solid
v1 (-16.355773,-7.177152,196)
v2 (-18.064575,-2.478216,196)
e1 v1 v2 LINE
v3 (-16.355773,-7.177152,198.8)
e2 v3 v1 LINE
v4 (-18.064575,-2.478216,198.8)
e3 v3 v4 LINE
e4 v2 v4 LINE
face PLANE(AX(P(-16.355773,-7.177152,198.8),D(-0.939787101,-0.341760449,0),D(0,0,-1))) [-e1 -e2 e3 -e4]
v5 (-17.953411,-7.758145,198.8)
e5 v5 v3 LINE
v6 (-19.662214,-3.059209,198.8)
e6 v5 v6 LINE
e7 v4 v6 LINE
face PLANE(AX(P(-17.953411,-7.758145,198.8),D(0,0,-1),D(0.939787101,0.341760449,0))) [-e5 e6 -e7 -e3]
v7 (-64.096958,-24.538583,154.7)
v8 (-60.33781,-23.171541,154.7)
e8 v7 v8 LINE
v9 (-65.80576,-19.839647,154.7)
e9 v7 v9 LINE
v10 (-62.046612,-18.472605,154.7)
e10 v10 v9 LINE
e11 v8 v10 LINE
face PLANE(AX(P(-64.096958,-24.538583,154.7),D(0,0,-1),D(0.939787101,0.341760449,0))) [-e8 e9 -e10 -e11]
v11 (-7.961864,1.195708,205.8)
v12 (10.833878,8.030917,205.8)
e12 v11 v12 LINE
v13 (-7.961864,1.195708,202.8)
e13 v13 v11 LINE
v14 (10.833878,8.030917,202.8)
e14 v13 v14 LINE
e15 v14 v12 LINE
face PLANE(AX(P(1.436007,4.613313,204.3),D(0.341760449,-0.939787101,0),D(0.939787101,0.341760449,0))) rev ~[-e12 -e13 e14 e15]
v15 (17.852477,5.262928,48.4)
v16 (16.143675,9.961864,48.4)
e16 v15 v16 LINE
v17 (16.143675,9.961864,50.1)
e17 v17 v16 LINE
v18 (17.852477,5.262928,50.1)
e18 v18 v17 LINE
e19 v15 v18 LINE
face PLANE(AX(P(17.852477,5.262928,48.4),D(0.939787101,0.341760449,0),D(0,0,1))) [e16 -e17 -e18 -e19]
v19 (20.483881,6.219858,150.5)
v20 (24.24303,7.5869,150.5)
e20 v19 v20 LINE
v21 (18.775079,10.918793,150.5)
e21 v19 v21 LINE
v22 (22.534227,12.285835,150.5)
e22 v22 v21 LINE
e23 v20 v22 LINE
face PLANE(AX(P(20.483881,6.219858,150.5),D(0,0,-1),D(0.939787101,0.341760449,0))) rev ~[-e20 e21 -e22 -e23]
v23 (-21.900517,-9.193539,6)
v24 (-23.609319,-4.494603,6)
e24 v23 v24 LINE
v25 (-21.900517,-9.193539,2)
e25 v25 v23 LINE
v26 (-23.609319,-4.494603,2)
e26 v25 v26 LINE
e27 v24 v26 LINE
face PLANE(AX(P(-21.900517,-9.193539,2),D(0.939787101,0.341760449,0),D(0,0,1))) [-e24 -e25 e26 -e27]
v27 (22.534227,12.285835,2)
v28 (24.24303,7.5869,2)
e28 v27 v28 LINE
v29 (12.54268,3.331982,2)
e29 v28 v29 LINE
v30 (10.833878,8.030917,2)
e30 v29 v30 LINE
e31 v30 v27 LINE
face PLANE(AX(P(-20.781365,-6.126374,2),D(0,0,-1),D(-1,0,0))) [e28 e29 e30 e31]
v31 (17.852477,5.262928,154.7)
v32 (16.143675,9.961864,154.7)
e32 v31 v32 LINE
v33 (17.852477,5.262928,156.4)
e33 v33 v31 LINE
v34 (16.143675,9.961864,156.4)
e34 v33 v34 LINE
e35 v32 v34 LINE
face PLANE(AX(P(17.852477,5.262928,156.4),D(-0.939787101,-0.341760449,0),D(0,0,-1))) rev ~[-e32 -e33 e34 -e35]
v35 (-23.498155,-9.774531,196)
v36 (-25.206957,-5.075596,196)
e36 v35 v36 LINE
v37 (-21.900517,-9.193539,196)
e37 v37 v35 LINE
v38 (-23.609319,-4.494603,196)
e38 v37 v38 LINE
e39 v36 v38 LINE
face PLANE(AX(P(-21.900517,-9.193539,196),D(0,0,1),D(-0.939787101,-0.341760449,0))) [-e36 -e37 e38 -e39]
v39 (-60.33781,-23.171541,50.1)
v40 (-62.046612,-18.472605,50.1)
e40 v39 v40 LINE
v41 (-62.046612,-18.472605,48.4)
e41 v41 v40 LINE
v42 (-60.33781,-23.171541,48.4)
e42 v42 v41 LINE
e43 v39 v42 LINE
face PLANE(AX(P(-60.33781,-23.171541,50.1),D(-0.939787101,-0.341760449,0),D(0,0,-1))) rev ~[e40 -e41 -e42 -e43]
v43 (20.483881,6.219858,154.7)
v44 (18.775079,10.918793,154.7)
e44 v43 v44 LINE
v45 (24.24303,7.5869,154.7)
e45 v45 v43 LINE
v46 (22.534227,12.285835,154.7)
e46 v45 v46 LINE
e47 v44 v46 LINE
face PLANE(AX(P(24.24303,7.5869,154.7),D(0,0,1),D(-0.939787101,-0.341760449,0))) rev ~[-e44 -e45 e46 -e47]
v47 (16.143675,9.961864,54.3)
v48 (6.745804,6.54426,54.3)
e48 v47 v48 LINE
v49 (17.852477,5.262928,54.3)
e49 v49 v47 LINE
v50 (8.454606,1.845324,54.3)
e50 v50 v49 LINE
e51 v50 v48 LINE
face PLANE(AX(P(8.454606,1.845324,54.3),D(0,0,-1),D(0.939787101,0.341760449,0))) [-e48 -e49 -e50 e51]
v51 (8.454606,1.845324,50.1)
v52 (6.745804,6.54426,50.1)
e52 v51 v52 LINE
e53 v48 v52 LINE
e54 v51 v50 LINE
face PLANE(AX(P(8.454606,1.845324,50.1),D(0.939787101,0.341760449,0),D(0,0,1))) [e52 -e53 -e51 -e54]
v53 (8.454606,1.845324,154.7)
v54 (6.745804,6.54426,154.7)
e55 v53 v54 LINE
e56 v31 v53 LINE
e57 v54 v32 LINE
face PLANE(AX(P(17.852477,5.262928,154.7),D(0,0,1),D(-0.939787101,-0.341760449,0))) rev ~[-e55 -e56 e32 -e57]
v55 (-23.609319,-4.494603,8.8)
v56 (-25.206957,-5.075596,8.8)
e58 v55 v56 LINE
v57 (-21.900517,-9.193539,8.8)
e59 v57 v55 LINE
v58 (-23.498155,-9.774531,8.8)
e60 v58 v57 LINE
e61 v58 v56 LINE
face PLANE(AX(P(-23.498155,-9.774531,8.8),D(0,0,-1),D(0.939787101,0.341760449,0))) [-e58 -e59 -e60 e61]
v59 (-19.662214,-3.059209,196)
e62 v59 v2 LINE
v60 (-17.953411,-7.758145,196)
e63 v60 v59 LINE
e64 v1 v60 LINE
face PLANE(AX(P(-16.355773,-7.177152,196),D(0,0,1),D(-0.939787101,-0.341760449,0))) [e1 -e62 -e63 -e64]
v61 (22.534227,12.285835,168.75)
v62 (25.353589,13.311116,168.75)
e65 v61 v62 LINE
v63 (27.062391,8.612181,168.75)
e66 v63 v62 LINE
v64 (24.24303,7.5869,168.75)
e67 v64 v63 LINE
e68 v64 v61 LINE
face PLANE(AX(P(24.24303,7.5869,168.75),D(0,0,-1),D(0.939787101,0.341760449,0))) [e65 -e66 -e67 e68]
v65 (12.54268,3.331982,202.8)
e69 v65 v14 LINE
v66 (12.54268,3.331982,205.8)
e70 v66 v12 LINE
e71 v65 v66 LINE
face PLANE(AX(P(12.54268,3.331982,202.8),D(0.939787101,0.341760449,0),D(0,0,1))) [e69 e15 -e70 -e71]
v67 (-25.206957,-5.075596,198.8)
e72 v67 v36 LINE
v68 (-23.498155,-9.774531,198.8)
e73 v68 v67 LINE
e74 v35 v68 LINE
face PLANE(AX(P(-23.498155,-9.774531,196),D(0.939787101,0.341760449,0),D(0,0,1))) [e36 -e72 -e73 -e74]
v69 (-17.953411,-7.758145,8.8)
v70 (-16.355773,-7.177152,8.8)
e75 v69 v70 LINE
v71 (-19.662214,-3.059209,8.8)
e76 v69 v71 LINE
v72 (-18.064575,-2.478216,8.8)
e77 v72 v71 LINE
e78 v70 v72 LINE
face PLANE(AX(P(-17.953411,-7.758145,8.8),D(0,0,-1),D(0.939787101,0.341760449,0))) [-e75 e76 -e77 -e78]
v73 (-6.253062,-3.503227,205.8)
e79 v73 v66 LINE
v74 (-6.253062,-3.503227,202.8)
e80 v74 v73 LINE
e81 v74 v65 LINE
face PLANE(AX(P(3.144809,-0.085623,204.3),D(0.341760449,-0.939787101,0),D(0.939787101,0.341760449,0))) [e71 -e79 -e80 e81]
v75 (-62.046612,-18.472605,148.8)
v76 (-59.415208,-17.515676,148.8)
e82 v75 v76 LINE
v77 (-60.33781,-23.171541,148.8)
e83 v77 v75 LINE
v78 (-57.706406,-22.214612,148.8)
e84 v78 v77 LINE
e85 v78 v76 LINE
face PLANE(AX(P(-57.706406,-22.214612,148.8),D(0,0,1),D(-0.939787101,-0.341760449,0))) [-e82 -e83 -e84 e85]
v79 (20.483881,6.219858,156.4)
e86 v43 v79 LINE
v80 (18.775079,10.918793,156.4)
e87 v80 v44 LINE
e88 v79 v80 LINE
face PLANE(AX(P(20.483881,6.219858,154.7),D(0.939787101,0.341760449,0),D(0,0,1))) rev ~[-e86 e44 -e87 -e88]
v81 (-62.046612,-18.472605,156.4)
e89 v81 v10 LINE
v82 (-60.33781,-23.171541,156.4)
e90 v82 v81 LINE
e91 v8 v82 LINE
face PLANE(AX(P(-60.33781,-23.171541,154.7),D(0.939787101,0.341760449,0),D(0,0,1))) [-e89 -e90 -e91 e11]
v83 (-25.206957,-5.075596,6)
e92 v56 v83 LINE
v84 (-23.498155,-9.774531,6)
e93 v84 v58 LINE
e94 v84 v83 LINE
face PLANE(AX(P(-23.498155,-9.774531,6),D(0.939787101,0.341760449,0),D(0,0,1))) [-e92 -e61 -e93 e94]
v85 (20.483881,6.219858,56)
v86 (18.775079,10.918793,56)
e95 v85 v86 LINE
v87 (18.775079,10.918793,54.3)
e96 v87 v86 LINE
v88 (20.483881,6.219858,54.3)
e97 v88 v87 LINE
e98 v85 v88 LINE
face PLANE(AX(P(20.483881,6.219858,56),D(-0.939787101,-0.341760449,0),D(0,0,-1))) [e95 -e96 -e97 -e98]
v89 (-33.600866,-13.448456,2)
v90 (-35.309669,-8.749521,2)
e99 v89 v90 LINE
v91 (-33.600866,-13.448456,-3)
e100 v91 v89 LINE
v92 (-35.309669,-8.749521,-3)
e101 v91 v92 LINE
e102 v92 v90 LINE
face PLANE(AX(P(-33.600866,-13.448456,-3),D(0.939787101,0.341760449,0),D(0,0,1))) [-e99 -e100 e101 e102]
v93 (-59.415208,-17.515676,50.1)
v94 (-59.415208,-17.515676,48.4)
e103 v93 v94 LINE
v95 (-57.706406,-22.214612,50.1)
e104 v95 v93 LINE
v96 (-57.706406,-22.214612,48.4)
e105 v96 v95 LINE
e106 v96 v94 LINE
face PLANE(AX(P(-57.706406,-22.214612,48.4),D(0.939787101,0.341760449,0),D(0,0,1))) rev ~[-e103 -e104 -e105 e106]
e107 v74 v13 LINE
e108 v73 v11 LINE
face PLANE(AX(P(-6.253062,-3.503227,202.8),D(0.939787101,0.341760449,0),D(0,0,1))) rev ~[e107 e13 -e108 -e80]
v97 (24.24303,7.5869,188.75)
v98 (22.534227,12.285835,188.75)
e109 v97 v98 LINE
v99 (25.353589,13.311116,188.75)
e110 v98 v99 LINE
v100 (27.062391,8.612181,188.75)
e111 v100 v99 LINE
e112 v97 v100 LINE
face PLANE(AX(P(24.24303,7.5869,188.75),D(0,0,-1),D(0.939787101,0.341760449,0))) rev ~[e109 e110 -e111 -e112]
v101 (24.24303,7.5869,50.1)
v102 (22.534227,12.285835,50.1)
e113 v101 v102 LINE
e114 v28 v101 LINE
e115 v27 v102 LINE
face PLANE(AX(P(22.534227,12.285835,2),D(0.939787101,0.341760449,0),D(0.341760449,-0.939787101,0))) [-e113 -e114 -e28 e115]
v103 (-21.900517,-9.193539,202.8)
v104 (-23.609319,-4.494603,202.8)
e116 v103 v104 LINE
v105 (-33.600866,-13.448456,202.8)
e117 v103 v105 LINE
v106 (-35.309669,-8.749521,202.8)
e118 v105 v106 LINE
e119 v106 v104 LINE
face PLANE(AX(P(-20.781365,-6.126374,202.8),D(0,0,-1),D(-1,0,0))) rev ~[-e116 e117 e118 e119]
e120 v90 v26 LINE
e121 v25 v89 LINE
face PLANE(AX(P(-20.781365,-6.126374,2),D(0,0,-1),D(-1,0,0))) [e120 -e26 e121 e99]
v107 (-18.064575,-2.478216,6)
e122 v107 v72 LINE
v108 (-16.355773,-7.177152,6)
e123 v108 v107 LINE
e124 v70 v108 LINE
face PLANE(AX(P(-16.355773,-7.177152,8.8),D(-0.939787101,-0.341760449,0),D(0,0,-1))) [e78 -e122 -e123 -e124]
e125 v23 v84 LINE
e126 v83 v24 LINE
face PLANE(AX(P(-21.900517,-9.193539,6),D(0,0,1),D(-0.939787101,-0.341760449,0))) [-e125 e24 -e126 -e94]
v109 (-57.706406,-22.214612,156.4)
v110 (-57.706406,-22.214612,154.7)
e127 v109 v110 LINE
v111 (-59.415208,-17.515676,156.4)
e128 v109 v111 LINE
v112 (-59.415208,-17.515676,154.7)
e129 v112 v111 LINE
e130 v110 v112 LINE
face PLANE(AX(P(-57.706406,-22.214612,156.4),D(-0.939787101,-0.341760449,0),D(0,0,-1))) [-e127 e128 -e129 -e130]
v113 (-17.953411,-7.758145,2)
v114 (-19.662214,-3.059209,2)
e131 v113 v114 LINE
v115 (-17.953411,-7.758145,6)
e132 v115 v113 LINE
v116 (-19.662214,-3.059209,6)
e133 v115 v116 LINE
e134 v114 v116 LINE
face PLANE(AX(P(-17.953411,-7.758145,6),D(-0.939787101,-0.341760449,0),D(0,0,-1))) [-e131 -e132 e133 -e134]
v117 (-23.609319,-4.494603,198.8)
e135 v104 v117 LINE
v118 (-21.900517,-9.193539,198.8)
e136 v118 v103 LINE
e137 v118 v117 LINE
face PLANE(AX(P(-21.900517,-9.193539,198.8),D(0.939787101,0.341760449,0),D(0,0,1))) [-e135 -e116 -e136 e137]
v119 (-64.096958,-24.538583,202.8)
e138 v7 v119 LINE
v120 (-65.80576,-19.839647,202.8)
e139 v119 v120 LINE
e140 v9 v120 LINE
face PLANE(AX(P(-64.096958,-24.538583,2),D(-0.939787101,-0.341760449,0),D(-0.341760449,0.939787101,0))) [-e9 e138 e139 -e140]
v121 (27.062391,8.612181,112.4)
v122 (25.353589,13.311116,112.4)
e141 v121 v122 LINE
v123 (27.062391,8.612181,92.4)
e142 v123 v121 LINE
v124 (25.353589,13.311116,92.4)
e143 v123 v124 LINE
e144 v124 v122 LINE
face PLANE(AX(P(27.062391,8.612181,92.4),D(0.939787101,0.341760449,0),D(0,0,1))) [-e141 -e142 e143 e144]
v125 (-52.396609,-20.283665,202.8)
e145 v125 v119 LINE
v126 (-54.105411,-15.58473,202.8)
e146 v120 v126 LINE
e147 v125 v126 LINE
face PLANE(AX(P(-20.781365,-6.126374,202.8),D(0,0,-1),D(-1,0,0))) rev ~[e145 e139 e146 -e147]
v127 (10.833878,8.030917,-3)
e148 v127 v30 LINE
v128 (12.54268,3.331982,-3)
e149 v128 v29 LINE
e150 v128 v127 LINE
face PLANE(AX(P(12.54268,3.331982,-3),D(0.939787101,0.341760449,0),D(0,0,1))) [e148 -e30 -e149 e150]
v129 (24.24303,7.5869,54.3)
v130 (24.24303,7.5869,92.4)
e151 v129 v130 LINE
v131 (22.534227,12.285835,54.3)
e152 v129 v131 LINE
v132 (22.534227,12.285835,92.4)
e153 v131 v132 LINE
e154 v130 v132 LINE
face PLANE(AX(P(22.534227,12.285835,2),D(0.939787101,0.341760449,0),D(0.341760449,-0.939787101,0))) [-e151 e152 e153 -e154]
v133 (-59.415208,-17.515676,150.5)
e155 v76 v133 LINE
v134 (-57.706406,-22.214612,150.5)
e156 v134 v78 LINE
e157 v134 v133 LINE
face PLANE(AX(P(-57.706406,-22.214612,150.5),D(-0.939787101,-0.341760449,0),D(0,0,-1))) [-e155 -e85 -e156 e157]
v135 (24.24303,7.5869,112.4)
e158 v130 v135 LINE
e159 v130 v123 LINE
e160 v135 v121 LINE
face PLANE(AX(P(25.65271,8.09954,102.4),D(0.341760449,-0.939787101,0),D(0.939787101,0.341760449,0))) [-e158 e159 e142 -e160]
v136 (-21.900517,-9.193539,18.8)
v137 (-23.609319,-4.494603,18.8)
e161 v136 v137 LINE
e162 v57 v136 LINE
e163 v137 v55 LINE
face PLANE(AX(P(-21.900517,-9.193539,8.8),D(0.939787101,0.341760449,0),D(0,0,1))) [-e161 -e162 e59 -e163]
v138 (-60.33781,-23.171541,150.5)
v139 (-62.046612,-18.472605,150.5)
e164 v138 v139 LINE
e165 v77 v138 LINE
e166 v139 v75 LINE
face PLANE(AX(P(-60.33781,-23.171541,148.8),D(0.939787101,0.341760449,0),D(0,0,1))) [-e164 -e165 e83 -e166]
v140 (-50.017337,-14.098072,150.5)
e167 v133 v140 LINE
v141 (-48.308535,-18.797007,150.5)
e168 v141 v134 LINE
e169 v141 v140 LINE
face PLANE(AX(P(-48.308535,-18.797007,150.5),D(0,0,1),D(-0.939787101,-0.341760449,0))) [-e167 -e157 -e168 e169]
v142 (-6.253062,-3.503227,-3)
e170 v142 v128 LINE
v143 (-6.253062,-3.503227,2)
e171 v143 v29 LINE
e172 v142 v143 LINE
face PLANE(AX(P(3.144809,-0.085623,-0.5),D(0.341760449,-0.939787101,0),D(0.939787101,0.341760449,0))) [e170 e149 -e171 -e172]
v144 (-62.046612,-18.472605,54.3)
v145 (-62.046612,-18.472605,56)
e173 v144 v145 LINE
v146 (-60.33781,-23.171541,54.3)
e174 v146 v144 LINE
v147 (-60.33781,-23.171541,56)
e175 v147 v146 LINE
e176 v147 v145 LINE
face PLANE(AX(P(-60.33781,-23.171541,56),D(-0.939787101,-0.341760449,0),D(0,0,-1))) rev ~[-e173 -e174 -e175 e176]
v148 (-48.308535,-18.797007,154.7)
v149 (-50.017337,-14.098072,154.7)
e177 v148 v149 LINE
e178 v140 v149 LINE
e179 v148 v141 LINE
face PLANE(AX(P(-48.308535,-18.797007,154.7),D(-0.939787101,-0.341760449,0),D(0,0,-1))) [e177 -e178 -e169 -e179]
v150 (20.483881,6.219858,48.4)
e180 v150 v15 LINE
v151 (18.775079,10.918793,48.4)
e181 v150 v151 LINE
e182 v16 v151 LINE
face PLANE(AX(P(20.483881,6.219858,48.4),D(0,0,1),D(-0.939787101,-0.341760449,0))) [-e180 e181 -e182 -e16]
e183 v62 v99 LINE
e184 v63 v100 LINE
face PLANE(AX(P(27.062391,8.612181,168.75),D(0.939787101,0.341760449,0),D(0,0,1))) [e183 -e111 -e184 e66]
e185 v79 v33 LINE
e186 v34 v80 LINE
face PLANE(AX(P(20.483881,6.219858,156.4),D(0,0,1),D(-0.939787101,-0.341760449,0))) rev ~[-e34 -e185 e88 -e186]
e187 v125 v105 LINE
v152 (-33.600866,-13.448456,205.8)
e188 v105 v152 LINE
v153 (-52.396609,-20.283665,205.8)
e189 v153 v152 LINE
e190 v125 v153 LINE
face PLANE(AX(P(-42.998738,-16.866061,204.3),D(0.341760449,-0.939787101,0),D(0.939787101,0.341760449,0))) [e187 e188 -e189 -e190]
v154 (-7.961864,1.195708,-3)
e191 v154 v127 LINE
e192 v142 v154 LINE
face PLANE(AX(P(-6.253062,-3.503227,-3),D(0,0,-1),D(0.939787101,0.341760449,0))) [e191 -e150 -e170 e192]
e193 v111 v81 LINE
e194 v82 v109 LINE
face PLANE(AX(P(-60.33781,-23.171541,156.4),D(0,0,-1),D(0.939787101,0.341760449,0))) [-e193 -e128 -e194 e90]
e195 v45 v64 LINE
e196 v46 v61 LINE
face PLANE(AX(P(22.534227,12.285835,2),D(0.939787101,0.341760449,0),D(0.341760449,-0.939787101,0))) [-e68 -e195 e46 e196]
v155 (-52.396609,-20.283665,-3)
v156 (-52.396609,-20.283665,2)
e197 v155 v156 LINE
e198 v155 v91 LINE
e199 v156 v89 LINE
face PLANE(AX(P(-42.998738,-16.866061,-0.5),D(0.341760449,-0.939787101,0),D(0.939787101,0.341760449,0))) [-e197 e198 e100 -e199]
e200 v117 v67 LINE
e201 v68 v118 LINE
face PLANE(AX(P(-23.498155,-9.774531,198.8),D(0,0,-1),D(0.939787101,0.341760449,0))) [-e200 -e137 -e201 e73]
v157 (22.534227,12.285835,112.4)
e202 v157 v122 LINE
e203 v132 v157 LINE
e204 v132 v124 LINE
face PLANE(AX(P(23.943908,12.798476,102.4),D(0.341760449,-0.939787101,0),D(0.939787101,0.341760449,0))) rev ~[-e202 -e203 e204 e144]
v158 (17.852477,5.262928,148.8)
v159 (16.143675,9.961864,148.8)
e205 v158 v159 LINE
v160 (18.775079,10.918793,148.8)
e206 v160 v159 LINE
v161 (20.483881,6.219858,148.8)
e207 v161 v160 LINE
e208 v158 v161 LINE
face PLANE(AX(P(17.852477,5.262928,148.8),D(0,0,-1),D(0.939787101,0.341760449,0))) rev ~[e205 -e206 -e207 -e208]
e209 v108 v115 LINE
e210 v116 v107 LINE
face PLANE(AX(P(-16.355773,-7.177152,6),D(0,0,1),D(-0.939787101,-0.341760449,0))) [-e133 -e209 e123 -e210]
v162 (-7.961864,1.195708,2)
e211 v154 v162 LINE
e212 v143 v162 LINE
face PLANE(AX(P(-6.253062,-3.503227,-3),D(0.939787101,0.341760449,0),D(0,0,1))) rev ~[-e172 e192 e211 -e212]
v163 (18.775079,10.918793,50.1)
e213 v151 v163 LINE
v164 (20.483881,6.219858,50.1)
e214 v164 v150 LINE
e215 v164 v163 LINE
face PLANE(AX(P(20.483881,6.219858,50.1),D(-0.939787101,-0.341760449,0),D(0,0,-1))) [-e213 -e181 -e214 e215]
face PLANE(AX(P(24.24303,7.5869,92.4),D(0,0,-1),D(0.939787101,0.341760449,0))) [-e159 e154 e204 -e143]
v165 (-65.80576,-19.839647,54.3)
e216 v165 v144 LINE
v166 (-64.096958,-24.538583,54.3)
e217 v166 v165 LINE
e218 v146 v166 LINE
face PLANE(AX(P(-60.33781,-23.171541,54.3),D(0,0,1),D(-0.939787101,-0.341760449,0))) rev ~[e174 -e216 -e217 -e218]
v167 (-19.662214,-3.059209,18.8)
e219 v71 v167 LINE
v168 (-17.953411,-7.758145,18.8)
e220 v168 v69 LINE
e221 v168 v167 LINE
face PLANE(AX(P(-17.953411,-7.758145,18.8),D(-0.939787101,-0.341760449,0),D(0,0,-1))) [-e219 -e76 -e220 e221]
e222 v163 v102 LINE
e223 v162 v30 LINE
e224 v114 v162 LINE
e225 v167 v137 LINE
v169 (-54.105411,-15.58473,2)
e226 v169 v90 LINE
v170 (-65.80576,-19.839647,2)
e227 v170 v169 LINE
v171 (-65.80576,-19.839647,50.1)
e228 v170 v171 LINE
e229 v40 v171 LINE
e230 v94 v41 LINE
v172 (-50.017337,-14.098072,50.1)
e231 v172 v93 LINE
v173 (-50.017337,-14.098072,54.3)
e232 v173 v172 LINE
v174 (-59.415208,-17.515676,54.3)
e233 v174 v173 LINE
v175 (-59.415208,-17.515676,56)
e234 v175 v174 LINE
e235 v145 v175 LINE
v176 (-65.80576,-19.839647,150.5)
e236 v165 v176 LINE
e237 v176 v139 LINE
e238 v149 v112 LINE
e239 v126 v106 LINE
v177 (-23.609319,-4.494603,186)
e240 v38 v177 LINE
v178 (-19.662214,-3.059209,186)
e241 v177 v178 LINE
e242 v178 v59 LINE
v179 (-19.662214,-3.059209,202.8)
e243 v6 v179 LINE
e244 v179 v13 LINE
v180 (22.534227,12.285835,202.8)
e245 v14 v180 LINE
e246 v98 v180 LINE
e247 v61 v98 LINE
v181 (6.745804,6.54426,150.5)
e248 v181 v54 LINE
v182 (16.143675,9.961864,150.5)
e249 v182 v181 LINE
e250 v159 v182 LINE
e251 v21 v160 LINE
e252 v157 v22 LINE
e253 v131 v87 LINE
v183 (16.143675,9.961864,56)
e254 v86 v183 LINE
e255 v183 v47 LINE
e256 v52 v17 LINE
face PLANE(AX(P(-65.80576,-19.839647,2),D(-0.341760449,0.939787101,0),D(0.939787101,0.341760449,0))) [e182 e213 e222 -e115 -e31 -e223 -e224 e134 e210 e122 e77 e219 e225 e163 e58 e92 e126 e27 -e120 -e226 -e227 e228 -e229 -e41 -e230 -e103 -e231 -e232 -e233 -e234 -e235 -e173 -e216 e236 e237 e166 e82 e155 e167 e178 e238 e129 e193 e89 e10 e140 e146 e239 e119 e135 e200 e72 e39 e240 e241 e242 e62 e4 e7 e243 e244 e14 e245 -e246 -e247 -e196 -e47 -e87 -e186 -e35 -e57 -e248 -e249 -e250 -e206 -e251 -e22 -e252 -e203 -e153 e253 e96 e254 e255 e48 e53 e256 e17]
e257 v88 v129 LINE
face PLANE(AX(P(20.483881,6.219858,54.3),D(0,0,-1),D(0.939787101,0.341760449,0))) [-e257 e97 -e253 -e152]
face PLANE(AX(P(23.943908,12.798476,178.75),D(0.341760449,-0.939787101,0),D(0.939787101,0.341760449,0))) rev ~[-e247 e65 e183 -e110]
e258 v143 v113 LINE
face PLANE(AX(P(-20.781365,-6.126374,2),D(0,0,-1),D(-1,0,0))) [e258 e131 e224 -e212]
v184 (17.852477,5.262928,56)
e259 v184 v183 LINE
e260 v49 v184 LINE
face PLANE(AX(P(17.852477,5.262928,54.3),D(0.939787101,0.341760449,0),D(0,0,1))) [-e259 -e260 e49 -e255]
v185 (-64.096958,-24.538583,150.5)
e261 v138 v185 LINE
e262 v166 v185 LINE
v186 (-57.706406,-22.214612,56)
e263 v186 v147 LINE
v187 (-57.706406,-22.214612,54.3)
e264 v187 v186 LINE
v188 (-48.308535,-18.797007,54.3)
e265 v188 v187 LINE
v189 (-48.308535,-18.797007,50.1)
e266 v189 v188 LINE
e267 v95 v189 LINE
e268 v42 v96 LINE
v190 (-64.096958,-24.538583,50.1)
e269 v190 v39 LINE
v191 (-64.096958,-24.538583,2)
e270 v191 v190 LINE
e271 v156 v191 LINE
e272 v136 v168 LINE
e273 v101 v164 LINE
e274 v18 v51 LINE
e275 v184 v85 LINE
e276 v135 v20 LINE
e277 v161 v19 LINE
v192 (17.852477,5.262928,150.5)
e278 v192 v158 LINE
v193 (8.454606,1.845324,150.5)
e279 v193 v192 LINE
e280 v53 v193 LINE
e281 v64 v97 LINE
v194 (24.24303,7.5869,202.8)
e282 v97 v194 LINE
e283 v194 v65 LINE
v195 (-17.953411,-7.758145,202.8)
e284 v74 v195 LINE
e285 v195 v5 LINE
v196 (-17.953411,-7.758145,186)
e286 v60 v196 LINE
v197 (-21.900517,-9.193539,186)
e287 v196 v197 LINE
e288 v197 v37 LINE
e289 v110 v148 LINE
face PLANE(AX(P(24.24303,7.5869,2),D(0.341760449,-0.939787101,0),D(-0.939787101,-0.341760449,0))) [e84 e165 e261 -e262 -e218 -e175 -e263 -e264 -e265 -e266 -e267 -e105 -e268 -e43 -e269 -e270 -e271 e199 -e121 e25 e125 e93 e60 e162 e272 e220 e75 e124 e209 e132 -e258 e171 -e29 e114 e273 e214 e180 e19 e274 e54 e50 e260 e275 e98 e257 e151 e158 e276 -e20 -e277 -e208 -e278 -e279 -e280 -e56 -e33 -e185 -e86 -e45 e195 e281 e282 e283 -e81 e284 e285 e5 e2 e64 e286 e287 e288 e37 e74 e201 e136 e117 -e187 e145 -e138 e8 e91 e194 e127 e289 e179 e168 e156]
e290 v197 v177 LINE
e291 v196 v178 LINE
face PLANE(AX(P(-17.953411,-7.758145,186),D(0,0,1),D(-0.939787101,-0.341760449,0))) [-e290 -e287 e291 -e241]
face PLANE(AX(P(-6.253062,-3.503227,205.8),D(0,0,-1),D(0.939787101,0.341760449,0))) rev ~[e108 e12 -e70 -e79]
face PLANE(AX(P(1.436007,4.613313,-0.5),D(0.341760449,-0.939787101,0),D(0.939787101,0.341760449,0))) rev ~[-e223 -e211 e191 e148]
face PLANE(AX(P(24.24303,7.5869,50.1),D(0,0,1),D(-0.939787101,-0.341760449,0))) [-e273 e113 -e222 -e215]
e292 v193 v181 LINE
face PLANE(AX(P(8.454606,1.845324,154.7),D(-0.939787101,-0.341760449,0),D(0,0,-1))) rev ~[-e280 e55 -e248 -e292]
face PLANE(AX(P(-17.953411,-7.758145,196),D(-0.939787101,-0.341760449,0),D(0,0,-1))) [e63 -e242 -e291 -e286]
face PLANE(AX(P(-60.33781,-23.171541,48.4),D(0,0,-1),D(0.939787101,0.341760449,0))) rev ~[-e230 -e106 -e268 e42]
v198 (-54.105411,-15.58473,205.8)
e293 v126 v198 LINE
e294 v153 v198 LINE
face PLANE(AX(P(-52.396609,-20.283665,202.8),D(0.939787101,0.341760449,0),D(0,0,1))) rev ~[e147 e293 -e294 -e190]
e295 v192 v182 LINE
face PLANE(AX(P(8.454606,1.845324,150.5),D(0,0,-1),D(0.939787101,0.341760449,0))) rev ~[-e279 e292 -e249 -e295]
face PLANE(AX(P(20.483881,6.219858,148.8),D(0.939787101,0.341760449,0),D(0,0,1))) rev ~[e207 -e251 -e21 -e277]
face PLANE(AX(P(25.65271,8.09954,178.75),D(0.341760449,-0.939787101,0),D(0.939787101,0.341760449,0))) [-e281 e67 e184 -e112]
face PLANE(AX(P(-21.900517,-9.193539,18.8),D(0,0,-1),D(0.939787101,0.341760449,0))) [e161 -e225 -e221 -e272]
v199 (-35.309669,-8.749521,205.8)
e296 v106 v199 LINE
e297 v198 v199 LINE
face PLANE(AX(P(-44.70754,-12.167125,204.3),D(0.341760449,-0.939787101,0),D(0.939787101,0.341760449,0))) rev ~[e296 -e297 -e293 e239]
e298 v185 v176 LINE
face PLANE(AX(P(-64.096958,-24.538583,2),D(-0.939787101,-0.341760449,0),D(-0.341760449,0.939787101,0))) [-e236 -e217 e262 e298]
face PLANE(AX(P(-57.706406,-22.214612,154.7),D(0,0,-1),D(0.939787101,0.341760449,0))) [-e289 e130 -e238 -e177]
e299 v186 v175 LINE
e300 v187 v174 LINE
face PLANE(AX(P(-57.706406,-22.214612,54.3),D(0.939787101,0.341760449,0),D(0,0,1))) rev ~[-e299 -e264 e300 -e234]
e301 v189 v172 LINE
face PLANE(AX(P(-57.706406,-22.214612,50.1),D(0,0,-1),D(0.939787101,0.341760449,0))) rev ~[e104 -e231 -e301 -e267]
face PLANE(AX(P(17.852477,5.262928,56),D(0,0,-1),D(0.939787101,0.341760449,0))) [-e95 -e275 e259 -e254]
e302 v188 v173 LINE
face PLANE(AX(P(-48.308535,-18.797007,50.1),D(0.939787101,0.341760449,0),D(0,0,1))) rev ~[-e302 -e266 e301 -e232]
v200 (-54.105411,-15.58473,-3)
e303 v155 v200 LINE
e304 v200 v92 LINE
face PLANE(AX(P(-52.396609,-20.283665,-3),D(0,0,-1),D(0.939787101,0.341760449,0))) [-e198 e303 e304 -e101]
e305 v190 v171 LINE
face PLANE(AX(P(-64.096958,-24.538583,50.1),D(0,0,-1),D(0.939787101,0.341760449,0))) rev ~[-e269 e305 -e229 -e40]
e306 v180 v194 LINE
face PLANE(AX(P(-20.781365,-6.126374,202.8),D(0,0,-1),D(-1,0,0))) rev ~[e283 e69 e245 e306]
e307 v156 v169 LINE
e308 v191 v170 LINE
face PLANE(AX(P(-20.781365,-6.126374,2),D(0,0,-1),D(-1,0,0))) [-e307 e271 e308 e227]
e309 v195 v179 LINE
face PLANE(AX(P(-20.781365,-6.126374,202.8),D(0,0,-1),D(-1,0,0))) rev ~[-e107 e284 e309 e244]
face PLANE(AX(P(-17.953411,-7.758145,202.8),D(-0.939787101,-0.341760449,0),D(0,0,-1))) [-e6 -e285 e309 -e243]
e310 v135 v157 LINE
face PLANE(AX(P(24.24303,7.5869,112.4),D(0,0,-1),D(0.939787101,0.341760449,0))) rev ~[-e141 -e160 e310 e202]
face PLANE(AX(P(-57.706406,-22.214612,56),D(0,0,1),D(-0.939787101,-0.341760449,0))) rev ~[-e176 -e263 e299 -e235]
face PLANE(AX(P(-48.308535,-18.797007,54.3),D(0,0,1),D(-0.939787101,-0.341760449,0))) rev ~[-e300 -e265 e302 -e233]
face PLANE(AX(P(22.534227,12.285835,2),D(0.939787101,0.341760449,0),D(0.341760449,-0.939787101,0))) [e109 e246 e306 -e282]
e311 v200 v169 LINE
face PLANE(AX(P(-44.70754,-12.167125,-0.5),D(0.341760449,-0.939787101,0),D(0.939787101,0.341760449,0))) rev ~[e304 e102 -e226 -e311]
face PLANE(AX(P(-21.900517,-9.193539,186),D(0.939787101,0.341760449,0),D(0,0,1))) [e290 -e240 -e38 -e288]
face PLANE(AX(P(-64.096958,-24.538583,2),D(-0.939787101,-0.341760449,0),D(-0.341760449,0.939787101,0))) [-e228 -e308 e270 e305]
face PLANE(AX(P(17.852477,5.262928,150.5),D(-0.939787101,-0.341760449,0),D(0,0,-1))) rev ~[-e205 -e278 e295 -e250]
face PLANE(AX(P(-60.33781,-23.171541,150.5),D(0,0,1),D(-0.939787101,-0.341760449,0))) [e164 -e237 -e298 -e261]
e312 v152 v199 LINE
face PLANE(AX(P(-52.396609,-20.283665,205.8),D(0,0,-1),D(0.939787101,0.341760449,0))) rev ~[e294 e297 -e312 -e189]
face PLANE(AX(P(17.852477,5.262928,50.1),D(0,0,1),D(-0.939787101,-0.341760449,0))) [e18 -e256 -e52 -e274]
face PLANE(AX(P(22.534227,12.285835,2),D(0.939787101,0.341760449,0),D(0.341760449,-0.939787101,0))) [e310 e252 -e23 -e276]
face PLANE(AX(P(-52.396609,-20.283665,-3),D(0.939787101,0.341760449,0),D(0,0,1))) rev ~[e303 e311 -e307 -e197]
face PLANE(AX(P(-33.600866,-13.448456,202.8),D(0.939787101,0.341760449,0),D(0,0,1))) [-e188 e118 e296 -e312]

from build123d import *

# Parameters (mm, degrees)
BOSS_EXTRUDE1_DEPTH = 200.8
CUT_EXTRUDE3_DEPTH  = 36.191113799
SKETCH5_W           = 20
SKETCH5_H           = 5
SKETCH5_W_2         = 3
SKETCH5_H_2         = 20
SKETCH5_H_3         = 3
BOSS_EXTRUDE2_DEPTH = 5


with BuildPart() as part:
    # Sketch2 → Boss-Extrude1 (new body)
    with BuildSketch(Plane.XY.offset(2)):
        Polygon((22.534227339, 12.285835046), (24.243029584, 7.58689954), (-64.096957923, -24.53858267), (-65.805760168, -19.839647165), align=None)
    extrude(amount=BOSS_EXTRUDE1_DEPTH)

    # Sketch4 → Cut-Extrude3 (cut, through all)
    with BuildSketch(Plane(origin=(0.394814778, -1.085678102, 0), x_dir=(-0.939787101, -0.341760449, 0), z_dir=(0.341760449, -0.939787101, 0))):
        Polygon((19.52381131, -2), (23.72381131, -2), (23.72381131, -6), (25.42381131, -6), (25.42381131, -8.8), (23.72381131, -8.8), (23.72381131, -18.8), (19.52381131, -18.8), (19.52381131, -8.8), (17.82381131, -8.8), (17.82381131, -6), (19.52381131, -6), align=None)
        Polygon((-25.37618869, -54.3), (-25.37618869, -50.1), (-21.37618869, -50.1), (-21.37618869, -48.4), (-18.57618869, -48.4), (-18.57618869, -50.1), (-8.57618869, -50.1), (-8.57618869, -54.3), (-18.57618869, -54.3), (-18.57618869, -56), (-21.37618869, -56), (-21.37618869, -54.3), align=None)
        Polygon((23.72381131, -202.8), (19.52381131, -202.8), (19.52381131, -198.8), (17.82381131, -198.8), (17.82381131, -196), (19.52381131, -196), (19.52381131, -186), (23.72381131, -186), (23.72381131, -196), (25.42381131, -196), (25.42381131, -198.8), (23.72381131, -198.8), align=None)
        Polygon((-21.37618869, -154.7), (-21.37618869, -156.4), (-18.57618869, -156.4), (-18.57618869, -154.7), (-8.57618869, -154.7), (-8.57618869, -150.5), (-18.57618869, -150.5), (-18.57618869, -148.8), (-21.37618869, -148.8), (-21.37618869, -150.5), (-25.37618869, -150.5), (-25.37618869, -154.7), align=None)
        Polygon((68.62381131, -150.5), (68.62381131, -154.7), (64.62381131, -154.7), (64.62381131, -156.4), (61.82381131, -156.4), (61.82381131, -154.7), (51.82381131, -154.7), (51.82381131, -150.5), (61.82381131, -150.5), (61.82381131, -148.8), (64.62381131, -148.8), (64.62381131, -150.5), align=None)
        Polygon((64.62381131, -50.1), (64.62381131, -48.4), (61.82381131, -48.4), (61.82381131, -50.1), (51.82381131, -50.1), (51.82381131, -54.3), (61.82381131, -54.3), (61.82381131, -56), (64.62381131, -56), (64.62381131, -54.3), (68.62381131, -54.3), (68.62381131, -50.1), align=None)
    extrude(amount=-CUT_EXTRUDE3_DEPTH, mode=Mode.SUBTRACT)

    # Sketch5 → Boss-Extrude2 (add)
    with BuildSketch(Plane(origin=(0.394814778, -1.085678102, 0), x_dir=(0.939787101, 0.341760449, 0), z_dir=(0.341760449, -0.939787101, 0))):
        with Locations((2.92618869, -0.5)):
            Rectangle(SKETCH5_W, SKETCH5_H)
        with Locations((-46.17381131, -0.5)):
            Rectangle(SKETCH5_W, SKETCH5_H)
        with Locations((26.87618869, 102.4)):
            Rectangle(SKETCH5_W_2, SKETCH5_H_2)
        with Locations((26.87618869, 178.75)):
            Rectangle(SKETCH5_W_2, SKETCH5_H_2)
        with Locations((2.92618869, 204.3)):
            Rectangle(SKETCH5_W, SKETCH5_H_3)
        with Locations((-46.17381131, 204.3)):
            Rectangle(SKETCH5_W, SKETCH5_H_3)
    extrude(amount=-BOSS_EXTRUDE2_DEPTH)


solid = part.part
